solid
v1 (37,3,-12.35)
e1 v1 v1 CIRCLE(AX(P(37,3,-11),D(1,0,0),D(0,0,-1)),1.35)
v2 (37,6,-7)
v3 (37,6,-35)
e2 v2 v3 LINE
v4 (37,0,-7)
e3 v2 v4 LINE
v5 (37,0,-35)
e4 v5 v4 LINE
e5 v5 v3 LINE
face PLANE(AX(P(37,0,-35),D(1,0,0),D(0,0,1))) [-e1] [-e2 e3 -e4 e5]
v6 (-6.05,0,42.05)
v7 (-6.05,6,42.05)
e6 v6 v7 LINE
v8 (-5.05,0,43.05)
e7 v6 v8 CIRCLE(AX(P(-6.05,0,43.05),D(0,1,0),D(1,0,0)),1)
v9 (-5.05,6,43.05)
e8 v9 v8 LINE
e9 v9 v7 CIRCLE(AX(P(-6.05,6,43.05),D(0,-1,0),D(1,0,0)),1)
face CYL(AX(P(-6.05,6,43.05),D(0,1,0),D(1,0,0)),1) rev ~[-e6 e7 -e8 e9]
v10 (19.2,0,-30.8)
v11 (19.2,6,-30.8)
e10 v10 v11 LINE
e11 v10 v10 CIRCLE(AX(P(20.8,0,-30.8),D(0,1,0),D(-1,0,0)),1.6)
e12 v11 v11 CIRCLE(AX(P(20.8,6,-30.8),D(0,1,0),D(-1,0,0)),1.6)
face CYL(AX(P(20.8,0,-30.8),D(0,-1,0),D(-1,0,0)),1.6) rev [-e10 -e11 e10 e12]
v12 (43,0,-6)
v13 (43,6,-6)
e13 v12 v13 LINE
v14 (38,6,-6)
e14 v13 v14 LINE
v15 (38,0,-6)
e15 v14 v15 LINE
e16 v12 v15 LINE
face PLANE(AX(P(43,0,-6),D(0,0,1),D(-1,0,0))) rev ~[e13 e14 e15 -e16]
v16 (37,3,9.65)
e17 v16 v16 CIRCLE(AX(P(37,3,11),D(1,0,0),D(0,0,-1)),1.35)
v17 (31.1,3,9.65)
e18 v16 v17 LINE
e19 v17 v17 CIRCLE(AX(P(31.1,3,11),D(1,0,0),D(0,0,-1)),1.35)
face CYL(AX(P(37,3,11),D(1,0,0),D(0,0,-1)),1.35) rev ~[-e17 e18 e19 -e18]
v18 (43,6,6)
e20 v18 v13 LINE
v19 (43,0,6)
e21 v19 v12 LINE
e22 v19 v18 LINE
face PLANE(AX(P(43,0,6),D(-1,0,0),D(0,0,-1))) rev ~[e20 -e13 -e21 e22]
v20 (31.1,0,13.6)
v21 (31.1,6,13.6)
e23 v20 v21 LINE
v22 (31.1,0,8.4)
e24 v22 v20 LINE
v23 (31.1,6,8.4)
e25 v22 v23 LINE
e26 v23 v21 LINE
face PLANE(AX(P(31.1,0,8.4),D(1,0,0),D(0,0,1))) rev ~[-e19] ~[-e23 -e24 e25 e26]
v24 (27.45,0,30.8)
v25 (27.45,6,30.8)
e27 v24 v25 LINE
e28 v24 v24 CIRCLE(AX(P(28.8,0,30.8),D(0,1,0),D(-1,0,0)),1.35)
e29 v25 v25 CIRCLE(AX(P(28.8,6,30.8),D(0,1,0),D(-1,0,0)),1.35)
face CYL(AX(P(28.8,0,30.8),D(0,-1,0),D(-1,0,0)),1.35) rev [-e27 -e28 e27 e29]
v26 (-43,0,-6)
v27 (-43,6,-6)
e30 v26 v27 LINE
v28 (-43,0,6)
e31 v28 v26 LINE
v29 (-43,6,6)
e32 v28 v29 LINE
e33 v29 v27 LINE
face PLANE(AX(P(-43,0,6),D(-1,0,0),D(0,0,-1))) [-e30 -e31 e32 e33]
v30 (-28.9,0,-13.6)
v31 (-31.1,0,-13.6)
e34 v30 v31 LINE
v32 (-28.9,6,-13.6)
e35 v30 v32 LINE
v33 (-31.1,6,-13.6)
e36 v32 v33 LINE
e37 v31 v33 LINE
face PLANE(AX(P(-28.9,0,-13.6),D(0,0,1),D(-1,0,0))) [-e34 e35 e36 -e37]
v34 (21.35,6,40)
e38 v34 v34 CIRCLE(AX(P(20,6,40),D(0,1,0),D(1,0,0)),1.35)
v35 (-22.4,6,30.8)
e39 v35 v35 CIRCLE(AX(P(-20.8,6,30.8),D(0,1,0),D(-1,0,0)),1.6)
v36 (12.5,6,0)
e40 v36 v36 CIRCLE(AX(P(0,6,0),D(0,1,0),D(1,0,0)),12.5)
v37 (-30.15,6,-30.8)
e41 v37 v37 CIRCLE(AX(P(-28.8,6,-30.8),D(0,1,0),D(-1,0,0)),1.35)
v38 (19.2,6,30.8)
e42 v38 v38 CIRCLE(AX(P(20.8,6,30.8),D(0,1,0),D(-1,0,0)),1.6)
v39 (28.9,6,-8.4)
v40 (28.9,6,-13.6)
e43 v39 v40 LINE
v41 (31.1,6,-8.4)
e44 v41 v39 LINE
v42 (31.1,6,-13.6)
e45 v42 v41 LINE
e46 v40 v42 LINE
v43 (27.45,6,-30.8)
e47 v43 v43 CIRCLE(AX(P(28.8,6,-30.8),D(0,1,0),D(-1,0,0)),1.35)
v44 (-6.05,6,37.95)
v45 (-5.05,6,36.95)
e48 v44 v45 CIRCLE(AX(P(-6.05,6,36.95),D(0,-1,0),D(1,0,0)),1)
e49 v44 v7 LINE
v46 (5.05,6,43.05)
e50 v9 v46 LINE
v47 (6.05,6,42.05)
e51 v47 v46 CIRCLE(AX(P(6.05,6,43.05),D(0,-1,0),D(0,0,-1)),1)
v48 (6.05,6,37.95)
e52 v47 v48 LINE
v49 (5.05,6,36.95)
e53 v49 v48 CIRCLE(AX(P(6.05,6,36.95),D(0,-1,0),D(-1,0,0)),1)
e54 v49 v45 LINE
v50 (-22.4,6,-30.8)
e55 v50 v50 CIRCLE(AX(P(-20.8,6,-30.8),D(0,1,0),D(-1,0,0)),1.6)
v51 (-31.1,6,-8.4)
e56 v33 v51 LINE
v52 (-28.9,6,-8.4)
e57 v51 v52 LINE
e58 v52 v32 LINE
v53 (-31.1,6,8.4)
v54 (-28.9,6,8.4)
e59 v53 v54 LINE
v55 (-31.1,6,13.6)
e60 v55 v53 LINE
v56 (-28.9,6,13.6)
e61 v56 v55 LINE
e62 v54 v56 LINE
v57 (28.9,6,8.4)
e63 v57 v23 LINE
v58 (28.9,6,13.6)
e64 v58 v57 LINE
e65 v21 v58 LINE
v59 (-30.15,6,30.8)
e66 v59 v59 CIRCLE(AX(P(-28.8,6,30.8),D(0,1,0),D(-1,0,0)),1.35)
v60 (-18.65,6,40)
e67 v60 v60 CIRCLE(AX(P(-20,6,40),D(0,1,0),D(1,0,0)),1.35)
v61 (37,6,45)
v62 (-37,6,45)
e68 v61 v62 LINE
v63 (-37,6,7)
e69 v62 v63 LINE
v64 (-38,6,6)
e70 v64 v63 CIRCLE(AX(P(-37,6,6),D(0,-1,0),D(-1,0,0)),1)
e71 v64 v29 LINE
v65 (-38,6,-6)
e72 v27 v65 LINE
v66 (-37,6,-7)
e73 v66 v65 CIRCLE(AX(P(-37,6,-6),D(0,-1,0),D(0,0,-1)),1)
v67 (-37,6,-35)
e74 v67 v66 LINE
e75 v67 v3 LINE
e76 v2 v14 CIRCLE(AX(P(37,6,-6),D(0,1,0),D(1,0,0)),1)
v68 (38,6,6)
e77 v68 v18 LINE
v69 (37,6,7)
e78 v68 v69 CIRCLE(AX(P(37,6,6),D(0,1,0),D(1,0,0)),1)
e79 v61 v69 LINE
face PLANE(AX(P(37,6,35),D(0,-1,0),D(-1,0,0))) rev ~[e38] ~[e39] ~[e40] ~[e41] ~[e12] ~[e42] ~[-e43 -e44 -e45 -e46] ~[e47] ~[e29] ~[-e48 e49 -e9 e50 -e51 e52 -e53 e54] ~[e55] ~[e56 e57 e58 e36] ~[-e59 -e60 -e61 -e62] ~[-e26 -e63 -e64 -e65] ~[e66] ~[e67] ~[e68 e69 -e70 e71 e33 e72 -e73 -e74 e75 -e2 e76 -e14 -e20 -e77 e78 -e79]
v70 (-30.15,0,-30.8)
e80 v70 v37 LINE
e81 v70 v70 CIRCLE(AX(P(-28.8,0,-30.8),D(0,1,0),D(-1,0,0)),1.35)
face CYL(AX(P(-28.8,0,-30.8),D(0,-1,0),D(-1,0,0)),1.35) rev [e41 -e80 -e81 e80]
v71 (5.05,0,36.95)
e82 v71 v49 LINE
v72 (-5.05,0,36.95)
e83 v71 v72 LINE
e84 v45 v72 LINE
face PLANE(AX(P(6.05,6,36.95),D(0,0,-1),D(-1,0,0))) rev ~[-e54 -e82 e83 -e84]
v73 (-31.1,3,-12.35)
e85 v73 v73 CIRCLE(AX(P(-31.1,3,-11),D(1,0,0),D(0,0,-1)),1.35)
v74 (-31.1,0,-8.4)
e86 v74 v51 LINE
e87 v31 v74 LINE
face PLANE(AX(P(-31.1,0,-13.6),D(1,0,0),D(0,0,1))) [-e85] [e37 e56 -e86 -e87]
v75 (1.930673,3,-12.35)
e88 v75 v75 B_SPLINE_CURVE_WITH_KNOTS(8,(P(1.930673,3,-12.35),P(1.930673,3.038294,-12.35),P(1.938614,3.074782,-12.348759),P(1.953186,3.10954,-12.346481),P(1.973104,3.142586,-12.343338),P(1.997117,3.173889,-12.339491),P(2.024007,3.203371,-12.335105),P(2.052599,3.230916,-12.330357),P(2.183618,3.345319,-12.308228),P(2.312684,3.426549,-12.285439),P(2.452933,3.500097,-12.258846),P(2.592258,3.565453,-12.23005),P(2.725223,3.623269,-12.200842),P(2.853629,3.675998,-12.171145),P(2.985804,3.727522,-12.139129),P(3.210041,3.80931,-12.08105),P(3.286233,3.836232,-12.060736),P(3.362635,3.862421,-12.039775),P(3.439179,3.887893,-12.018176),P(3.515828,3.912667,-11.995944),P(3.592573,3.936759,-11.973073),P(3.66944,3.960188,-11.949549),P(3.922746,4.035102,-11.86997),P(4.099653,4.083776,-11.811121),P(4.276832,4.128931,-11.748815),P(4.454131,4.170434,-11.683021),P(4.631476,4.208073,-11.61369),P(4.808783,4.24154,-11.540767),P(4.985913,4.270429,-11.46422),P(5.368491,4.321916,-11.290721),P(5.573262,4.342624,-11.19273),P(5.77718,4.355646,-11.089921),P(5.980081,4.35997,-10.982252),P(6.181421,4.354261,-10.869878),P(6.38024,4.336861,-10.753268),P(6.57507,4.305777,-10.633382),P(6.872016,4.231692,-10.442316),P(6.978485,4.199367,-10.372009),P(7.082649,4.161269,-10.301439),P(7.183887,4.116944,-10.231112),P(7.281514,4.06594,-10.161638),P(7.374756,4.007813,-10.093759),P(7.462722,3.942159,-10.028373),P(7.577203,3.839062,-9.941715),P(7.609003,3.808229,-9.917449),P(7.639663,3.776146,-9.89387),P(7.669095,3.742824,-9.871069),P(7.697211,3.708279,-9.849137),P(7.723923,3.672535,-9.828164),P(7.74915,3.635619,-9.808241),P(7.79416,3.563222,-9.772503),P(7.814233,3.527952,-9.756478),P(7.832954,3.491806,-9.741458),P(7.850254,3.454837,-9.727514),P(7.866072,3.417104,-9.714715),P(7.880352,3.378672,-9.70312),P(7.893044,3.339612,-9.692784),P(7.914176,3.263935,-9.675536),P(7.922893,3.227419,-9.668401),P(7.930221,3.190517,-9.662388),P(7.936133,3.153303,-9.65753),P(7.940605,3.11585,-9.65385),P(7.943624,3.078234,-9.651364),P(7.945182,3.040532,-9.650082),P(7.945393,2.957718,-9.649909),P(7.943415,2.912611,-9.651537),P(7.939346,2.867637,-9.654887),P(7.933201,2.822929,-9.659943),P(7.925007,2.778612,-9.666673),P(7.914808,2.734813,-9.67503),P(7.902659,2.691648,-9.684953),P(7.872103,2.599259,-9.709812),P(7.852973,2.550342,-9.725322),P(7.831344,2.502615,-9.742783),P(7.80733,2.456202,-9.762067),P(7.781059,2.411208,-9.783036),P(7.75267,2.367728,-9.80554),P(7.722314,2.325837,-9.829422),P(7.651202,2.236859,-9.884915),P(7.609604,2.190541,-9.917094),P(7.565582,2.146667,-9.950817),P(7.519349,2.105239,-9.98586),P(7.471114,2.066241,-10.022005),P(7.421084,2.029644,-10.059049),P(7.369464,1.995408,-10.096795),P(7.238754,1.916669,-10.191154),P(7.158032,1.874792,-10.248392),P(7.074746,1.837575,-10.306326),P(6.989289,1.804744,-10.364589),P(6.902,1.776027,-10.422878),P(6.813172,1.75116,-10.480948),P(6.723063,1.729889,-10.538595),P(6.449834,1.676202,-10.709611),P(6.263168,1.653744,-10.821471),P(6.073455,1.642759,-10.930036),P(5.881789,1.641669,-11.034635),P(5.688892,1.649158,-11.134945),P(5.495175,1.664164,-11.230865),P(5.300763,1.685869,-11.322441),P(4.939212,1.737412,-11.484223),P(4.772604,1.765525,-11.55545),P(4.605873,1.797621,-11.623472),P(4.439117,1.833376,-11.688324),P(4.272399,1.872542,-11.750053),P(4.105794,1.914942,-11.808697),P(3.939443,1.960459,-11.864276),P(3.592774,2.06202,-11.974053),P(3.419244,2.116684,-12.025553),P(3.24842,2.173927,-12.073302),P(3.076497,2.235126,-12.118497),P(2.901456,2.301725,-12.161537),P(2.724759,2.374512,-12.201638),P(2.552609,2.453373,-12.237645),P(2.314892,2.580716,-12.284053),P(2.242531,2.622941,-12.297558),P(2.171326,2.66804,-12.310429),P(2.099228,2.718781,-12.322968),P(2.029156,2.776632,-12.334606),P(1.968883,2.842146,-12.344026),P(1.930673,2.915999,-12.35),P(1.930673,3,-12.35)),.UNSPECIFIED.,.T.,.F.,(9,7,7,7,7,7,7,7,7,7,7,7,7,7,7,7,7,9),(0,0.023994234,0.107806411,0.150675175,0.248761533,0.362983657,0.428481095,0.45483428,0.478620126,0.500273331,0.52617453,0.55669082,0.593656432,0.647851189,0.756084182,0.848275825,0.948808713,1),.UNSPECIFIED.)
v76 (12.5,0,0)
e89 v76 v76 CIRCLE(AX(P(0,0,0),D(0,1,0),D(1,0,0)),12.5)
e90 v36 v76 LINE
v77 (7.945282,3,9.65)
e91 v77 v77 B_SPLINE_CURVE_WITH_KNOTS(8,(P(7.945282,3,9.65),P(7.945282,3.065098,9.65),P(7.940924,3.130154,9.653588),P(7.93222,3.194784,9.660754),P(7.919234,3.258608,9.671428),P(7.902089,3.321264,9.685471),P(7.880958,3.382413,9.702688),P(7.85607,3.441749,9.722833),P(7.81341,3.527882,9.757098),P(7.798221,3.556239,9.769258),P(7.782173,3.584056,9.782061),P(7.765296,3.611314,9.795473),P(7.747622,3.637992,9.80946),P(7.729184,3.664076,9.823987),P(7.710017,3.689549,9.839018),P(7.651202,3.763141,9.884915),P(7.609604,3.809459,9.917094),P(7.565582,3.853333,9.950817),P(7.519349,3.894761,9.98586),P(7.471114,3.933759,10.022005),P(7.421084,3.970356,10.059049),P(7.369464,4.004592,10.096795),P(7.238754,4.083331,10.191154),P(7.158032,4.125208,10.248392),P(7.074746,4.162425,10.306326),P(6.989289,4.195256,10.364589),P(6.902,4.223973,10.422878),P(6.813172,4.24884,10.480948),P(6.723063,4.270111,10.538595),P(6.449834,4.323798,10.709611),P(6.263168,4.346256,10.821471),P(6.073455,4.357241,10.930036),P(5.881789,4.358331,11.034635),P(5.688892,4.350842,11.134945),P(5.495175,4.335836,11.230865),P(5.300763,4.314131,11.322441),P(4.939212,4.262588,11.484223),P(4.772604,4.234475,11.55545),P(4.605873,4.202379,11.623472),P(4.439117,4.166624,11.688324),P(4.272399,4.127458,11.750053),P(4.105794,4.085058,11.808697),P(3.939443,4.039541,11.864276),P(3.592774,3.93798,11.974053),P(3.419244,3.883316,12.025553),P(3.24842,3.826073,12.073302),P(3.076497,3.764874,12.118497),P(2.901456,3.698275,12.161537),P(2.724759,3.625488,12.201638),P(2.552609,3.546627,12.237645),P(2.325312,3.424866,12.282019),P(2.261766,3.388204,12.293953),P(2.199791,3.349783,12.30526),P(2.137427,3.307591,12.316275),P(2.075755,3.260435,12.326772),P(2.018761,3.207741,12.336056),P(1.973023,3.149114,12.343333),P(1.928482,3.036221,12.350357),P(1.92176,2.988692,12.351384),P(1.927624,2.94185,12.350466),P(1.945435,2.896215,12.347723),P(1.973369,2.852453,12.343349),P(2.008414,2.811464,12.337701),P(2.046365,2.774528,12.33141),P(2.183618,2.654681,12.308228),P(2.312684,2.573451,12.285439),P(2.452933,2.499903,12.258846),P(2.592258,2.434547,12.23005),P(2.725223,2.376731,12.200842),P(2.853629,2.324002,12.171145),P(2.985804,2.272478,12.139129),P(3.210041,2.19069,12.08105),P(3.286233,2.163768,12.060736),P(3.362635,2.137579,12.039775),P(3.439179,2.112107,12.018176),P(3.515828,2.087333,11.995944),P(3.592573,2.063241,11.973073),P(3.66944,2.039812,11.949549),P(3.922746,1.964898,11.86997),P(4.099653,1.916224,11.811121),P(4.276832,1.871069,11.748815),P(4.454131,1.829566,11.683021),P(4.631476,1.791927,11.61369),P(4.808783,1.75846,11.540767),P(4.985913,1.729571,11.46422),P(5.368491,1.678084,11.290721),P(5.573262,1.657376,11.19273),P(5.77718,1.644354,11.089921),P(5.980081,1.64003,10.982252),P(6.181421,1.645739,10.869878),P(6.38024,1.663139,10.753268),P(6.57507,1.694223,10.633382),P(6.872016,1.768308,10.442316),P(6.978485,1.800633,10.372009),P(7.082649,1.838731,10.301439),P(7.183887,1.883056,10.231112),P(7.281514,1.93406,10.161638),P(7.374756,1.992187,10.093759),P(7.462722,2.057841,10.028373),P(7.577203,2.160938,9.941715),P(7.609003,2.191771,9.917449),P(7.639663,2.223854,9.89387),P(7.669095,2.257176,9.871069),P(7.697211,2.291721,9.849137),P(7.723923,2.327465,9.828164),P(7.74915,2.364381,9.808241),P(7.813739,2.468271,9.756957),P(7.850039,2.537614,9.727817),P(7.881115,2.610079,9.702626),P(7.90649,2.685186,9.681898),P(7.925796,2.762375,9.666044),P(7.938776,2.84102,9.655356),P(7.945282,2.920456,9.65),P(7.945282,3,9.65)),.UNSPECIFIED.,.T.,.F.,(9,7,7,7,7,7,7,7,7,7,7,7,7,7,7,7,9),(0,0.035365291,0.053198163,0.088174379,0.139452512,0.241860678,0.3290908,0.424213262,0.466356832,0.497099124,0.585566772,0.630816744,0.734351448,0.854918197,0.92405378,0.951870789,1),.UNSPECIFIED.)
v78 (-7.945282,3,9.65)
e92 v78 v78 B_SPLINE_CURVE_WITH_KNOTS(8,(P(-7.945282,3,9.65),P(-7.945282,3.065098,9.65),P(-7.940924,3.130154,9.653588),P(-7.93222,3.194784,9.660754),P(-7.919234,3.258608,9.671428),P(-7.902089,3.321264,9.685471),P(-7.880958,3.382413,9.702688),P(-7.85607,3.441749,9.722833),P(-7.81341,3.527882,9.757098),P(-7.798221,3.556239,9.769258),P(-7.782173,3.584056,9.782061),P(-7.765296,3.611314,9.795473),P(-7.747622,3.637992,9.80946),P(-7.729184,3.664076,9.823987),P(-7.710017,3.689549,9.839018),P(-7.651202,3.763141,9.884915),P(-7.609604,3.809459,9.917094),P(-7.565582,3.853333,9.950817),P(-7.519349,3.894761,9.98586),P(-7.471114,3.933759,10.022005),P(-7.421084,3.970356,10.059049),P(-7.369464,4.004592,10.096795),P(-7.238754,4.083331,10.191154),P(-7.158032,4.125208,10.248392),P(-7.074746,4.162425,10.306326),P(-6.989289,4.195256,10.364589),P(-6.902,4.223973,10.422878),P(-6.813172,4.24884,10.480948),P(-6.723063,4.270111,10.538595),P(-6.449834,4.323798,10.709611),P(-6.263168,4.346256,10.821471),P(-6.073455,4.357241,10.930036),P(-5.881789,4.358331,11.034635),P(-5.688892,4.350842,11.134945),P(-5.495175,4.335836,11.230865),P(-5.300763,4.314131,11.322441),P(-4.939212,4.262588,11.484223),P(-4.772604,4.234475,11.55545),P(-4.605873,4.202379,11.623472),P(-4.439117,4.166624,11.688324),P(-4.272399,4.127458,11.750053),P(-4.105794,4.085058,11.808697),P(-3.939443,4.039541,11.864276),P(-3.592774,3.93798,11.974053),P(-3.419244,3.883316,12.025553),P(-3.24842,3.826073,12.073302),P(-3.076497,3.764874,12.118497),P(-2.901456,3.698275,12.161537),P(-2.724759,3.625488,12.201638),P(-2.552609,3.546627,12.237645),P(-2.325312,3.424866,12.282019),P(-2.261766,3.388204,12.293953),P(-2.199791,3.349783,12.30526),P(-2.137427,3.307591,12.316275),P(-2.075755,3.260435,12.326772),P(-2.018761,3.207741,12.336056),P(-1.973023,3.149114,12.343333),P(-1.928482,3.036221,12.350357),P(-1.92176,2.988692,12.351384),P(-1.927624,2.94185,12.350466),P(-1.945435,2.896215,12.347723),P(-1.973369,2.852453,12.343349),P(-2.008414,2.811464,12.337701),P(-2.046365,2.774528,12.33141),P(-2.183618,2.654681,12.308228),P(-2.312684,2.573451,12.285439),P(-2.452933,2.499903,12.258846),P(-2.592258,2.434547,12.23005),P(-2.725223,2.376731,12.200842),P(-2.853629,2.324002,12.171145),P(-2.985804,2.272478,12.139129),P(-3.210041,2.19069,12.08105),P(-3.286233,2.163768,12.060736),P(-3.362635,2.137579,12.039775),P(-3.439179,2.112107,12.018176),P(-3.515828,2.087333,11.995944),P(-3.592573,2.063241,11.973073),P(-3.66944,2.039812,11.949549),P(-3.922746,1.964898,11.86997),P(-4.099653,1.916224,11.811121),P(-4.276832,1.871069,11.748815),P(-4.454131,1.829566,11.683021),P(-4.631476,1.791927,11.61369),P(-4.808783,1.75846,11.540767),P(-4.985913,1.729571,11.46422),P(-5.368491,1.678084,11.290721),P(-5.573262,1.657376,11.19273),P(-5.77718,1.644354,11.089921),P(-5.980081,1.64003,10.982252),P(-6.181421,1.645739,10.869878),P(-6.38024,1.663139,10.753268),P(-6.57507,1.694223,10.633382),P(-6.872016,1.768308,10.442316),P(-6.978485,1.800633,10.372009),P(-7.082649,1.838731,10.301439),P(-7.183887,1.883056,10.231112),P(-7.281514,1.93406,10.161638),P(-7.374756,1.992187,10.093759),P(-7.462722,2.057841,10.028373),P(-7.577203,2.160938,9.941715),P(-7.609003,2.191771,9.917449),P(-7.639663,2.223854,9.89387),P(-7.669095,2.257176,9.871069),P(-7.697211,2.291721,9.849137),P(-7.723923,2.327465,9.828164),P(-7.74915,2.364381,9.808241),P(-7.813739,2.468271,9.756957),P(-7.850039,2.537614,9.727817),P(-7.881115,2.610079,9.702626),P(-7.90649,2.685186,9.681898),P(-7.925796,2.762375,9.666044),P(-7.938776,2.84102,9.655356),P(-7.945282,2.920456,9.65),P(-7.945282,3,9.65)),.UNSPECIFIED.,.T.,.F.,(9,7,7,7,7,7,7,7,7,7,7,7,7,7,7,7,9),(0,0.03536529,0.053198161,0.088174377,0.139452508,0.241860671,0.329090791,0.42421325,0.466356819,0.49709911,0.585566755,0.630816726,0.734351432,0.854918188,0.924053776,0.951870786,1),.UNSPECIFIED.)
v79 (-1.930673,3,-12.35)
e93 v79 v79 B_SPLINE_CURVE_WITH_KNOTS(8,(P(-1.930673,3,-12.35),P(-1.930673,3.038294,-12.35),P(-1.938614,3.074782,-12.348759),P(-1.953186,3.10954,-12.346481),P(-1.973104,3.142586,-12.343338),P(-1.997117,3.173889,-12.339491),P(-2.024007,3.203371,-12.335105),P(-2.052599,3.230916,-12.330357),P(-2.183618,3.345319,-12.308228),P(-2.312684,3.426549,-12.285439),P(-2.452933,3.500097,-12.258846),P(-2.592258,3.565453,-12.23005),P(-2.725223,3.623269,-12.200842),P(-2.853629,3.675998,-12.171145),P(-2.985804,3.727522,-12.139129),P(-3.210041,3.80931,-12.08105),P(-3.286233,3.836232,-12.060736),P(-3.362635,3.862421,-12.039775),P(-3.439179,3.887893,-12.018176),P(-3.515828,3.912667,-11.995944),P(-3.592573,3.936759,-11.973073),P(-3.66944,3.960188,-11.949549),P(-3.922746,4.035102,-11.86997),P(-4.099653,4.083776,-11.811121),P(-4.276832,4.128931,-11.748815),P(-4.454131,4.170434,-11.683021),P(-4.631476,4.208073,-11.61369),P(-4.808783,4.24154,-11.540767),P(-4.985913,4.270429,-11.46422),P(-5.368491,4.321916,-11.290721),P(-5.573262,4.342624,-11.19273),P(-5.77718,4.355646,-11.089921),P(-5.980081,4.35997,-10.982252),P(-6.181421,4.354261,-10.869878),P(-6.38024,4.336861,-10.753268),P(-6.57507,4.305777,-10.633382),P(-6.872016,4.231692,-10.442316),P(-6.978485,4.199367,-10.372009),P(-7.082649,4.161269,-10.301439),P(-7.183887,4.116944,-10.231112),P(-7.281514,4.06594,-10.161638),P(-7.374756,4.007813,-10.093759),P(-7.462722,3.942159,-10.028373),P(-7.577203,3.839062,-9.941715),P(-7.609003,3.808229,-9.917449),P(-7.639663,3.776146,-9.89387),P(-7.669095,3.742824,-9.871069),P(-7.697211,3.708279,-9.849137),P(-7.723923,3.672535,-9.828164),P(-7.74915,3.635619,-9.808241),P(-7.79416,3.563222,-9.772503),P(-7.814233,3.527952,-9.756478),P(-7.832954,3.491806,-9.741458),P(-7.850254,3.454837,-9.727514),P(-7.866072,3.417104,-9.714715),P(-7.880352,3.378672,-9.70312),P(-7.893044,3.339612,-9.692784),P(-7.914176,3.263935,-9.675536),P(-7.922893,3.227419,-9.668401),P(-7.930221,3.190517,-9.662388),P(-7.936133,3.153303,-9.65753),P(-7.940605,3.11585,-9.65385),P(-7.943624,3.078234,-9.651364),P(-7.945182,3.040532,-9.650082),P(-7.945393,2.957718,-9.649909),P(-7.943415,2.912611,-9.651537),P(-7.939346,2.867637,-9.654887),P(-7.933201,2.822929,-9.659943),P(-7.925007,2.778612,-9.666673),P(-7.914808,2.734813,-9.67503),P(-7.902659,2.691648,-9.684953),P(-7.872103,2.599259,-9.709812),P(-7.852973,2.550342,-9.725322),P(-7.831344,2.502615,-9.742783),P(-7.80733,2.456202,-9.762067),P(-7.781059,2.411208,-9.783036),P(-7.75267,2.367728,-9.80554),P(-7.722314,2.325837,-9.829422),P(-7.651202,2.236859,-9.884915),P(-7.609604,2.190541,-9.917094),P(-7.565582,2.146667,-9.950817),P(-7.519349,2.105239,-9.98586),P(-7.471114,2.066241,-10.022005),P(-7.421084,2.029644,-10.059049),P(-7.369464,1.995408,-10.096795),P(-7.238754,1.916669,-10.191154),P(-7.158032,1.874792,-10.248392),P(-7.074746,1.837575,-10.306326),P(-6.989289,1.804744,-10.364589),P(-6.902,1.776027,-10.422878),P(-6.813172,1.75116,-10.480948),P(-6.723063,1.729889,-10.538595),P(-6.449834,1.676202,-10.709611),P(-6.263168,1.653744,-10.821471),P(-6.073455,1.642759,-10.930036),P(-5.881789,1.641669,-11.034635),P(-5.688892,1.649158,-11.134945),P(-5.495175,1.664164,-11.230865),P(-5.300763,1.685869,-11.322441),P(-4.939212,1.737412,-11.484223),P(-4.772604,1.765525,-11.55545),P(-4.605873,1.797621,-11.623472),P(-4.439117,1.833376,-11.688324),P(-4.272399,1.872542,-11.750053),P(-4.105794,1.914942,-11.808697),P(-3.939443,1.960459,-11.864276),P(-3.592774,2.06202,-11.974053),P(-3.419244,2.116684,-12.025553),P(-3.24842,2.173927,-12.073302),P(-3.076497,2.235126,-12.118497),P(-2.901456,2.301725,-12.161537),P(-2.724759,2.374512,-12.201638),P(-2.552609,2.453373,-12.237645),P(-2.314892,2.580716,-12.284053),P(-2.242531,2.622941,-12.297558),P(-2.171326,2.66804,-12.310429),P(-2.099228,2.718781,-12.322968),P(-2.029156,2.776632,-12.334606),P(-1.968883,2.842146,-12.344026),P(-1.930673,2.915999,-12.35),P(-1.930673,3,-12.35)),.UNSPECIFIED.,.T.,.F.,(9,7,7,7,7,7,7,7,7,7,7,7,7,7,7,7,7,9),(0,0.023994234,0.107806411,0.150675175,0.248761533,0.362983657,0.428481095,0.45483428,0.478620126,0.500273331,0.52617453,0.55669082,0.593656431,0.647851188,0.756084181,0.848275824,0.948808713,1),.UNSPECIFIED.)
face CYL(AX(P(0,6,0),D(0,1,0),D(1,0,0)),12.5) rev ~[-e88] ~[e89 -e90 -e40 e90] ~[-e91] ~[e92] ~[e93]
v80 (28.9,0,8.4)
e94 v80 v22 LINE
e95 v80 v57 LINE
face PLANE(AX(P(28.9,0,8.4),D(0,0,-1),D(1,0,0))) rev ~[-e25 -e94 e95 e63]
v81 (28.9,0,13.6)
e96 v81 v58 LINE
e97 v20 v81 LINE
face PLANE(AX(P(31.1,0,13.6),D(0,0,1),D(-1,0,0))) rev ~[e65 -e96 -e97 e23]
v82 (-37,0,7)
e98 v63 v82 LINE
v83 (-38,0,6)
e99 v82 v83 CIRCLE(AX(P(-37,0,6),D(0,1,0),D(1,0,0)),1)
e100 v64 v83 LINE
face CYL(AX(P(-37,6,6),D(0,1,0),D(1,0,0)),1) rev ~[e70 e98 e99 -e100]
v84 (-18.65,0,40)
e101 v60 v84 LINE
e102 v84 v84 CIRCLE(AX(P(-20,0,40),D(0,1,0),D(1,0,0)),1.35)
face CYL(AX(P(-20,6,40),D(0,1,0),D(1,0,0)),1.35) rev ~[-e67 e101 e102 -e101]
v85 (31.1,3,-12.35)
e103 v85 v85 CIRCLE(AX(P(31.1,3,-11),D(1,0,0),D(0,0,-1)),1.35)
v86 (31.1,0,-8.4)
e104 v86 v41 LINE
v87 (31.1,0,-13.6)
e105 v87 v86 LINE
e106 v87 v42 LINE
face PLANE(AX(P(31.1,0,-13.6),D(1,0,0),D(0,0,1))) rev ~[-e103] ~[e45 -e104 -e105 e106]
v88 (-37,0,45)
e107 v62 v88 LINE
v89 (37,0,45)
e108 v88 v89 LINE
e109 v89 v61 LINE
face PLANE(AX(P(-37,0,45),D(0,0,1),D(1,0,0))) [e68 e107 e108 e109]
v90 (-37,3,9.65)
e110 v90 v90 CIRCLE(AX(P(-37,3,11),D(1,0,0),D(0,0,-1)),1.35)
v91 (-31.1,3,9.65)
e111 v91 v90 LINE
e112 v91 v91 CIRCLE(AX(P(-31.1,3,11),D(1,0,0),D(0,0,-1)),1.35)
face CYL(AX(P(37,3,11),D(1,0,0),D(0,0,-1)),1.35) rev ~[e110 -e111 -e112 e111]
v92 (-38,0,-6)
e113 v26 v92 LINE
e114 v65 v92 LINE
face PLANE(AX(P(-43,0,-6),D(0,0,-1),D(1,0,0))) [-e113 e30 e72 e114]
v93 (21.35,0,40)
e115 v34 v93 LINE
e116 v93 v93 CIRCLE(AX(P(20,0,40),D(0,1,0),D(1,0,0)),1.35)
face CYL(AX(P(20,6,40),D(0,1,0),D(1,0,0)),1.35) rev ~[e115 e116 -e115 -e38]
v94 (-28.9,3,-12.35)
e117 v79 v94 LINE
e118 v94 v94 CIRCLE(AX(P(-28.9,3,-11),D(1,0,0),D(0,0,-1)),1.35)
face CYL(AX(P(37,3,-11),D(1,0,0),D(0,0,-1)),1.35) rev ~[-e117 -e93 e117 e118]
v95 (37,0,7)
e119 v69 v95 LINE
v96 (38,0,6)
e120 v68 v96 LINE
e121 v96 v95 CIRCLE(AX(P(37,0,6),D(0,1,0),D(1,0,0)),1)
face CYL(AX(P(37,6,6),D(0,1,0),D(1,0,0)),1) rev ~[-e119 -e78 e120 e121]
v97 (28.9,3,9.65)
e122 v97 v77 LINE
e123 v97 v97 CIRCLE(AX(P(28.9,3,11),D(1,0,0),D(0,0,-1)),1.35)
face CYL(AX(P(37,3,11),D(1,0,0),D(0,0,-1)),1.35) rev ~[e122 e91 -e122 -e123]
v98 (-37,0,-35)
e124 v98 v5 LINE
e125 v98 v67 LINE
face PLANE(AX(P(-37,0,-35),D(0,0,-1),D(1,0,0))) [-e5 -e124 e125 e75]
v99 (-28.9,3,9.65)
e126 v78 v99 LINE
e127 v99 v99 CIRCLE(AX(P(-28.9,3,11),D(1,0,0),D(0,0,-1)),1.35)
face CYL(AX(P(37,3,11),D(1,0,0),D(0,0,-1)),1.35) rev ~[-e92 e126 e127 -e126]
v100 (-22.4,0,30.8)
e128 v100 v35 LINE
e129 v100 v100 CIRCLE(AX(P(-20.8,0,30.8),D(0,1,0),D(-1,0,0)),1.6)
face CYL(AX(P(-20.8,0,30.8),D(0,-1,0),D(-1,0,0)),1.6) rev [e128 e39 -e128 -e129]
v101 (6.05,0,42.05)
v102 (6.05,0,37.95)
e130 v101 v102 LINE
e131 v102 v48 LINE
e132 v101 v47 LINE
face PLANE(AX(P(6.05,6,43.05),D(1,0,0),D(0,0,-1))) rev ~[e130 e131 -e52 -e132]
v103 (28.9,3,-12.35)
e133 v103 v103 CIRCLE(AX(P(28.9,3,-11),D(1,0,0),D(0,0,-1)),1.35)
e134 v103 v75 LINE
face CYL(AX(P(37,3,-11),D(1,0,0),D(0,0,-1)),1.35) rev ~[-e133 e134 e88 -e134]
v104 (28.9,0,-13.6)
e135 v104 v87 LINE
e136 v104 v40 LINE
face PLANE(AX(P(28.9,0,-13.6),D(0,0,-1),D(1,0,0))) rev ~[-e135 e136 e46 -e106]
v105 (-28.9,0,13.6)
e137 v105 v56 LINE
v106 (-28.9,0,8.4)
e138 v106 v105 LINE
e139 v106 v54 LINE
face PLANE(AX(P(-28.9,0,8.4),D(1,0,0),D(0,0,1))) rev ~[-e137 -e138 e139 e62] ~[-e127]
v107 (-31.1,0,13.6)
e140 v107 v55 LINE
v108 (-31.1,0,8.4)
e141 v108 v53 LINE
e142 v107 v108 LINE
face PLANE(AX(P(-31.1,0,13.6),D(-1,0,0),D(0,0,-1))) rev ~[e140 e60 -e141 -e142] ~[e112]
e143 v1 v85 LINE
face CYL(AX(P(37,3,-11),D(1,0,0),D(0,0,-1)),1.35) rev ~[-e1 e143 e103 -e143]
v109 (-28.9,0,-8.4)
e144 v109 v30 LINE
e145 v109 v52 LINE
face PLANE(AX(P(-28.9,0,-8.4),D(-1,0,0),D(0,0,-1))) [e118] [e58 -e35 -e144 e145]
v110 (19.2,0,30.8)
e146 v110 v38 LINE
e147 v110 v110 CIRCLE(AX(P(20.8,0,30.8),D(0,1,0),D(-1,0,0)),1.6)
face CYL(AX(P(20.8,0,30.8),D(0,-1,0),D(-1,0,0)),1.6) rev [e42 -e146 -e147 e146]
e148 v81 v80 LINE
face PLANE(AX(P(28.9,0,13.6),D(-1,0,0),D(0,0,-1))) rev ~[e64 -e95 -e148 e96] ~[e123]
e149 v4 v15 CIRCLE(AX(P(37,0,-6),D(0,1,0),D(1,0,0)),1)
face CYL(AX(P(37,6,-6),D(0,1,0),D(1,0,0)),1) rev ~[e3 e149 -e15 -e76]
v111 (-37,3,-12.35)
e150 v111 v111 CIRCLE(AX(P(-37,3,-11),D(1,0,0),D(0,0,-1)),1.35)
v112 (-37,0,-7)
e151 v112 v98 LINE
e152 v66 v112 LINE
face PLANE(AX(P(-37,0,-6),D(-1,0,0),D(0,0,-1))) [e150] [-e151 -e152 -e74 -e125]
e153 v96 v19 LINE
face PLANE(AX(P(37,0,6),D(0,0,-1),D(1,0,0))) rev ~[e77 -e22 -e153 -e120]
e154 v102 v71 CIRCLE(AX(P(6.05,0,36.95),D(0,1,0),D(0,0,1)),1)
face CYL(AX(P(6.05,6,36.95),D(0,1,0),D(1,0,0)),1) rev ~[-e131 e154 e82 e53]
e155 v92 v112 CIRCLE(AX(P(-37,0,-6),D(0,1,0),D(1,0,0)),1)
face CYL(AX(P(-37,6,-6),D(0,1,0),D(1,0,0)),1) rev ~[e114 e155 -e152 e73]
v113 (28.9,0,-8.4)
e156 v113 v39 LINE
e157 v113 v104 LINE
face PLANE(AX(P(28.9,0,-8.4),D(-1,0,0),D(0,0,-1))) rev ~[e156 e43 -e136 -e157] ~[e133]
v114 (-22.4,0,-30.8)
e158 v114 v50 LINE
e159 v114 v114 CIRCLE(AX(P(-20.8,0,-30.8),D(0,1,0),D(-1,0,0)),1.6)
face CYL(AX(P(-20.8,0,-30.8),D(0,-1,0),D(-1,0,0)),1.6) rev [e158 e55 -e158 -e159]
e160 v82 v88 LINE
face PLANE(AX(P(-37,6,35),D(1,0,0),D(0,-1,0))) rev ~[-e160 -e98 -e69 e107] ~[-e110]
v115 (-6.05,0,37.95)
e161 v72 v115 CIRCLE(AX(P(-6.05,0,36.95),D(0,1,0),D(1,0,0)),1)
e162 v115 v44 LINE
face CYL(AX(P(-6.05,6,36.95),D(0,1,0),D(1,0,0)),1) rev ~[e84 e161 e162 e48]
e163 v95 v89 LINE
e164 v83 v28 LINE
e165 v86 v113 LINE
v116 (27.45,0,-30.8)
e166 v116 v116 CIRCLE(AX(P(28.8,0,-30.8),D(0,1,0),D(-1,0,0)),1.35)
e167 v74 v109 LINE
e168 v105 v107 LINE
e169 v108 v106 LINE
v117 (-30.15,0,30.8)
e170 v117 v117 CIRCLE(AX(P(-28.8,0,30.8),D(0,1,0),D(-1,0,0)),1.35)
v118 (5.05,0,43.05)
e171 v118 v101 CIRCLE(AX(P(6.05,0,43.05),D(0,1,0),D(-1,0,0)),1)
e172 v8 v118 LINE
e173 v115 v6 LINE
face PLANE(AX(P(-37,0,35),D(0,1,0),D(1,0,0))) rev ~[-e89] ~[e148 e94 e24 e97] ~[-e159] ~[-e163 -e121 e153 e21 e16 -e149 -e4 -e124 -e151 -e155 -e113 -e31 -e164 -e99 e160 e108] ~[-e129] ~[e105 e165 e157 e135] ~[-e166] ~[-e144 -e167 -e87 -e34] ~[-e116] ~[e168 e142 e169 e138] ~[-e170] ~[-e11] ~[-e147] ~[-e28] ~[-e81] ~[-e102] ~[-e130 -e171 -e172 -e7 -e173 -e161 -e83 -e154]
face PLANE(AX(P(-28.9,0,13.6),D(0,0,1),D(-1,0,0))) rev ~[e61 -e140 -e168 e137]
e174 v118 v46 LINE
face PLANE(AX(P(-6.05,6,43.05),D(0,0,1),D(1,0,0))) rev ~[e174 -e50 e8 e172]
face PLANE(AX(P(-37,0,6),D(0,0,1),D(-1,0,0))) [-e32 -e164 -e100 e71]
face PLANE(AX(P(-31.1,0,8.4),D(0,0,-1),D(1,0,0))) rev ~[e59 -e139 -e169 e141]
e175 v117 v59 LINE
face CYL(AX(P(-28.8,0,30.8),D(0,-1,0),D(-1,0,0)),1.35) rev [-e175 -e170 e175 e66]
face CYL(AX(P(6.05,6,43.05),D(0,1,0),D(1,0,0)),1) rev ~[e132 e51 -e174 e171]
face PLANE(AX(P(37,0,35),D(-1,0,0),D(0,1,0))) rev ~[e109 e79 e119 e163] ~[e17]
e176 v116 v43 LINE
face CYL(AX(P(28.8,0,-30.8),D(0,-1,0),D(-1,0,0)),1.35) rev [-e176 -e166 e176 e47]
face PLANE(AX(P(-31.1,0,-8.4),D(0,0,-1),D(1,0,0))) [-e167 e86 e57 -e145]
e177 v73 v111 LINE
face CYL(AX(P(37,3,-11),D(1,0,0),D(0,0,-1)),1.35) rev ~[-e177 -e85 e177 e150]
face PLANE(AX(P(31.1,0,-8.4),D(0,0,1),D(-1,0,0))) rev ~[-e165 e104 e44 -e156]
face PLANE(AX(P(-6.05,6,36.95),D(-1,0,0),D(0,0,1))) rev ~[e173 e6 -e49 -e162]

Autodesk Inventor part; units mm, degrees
ref_plane "우측면도" through (0, 0, 0) normal (1, 0, 0) x (0, 1, 0)
ref_plane "평면도" through (0, 0, 0) normal (0, 1, 0) x (-1, 0, 0)
ref_plane "정면도" through (0, 0, 0) normal (0, 0, 1) x (1, 0, 0)
sketch "스케치1" plane through (0, 0, 0) normal (0, 1, 0) x (-1, 0, 0)
  line L0 (-37, 35) -> (37, 35)
  line L1 (37, 35) -> (37, -35)
  line L2 (37, -35) -> (-37, -35)
  line L3 (-37, -35) -> (-37, 35)
  line L4 (-37, 35) -> (37, -35) construction
  line L5 (37, 35) -> (-37, -35) construction
  line L6 (37, -14) -> (37, -2)
  line L7 (-37, -14) -> (-37, -2)
  line L8 (28.9, 13.6) -> (31.1, 13.6)
  line L9 (31.1, 13.6) -> (31.1, 8.4)
  line L10 (31.1, 8.4) -> (28.9, 8.4)
  line L11 (28.9, 8.4) -> (28.9, 13.6)
  line L12 (28.9, 13.6) -> (31.1, 8.4) construction
  line L13 (31.1, 13.6) -> (28.9, 8.4) construction
  line L14 (-31.1, 13.6) -> (-28.9, 13.6)
  line L15 (-28.9, 13.6) -> (-28.9, 8.4)
  line L16 (-28.9, 8.4) -> (-31.1, 8.4)
  line L17 (-31.1, 8.4) -> (-31.1, 13.6)
  line L18 (-31.1, 13.6) -> (-28.9, 8.4) construction
  line L19 (-28.9, 13.6) -> (-31.1, 8.4) construction
  line L20 (-31.1, -8.4) -> (-28.9, -8.4)
  line L21 (-28.9, -8.4) -> (-28.9, -13.6)
  line L22 (-28.9, -13.6) -> (-31.1, -13.6)
  line L23 (-31.1, -13.6) -> (-31.1, -8.4)
  line L24 (-31.1, -8.4) -> (-28.9, -13.6) construction
  line L25 (-28.9, -8.4) -> (-31.1, -13.6) construction
  line L26 (31.1, -8.4) -> (28.9, -8.4)
  line L27 (28.9, -8.4) -> (28.9, -13.6)
  line L28 (28.9, -13.6) -> (31.1, -13.6)
  line L29 (31.1, -13.6) -> (31.1, -8.4)
  line L30 (31.1, -8.4) -> (28.9, -13.6) construction
  line L31 (28.9, -8.4) -> (31.1, -13.6) construction
  line L32 (37, 6) -> (43, 6)
  line L33 (43, 6) -> (43, -6)
  line L34 (43, -6) -> (37, -6)
  line L35 (37, -6) -> (37, 6)
  line L36 (-37, 6) -> (-43, 6)
  line L37 (-43, 6) -> (-43, -6)
  line L38 (-43, -6) -> (-37, -6)
  line L39 (-37, -6) -> (-37, 6)
  circle A0 centre (20.8, 30.8) radius 1.6
  circle A1 centre (20.8, -30.8) radius 1.6
  circle A2 centre (-20.8, 30.8) radius 1.6
  circle A3 centre (-20.8, -30.8) radius 1.6
  circle A4 centre (28.8, 30.8) radius 1.35
  circle A5 centre (28.8, -30.8) radius 1.35
  circle A6 centre (-28.8, 30.8) radius 1.35
  circle A7 centre (-28.8, -30.8) radius 1.35
  point P0 (0, 0)
  point P1 (30, 11)
  point P2 (-30, 11)
  point P3 (-30, -11)
  point P4 (30, -11)
  dimension "d0" = 74
  dimension "d1" = 70
  dimension "d6" = 2.2
  dimension "d7" = 5.2
  dimension "d8" = 2.2
  dimension "d9" = 5.2
  dimension "d10" = 2.2
  dimension "d11" = 5.2
  dimension "d12" = 2.2
  dimension "d13" = 5.2
  dimension "d14" = 6
  dimension "d15" = 12
  dimension "d16" = 6
  dimension "d17" = 12
  dimension "d18" = 3.2
  dimension "d19" = 4.2
  dimension "d20" = 3.2
  dimension "d21" = 3.2
  dimension "d22" = 3.2
  dimension "d23" = 2.7
  dimension "d24" = 2.7
  dimension "d25" = 2.7
  dimension "d26" = 2.7
extrude "돌출1" add sketch "스케치1" along normal blind 6
sketch "스케치2" plane through (37, 0, 35) normal (1, 0, 0) x (0, 0, -1)
  circle A0 centre (46, 3) radius 1.35
  circle A1 centre (24, 3) radius 1.35
  point P0 (35, 0)
  dimension "d29" = 2.7
  dimension "d30" = 2.7
extrude "돌출2" cut sketch "스케치2" against normal blind 100
sketch "스케치3" plane through (-37, 0, 35) normal (0, 0, 1) x (1, 0, 0)
  line L0 (0, 0) -> (74, 0)
  line L1 (74, 0) -> (74, 6)
  line L2 (74, 6) -> (0, 6)
  line L3 (0, 6) -> (0, 0)
  point P0 (37, 0)
  dimension "d33" = 74
  dimension "d34" = 6
extrude "돌출3" add sketch "스케치3" along normal blind 10
sketch "스케치4" plane through (0, 6, 0) normal (0, 1, 0) x (1, 0, 0)
  circle A0 centre (20, -40) radius 1.35
  circle A1 centre (-20, -40) radius 1.35
  line L0 (-6.05, -43.05) -> (6.05, -43.05)
  line L1 (6.05, -43.05) -> (6.05, -36.95)
  line L2 (6.05, -36.95) -> (-6.05, -36.95)
  line L3 (-6.05, -36.95) -> (-6.05, -43.05)
  line L4 (-6.05, -43.05) -> (6.05, -36.95) construction
  line L5 (6.05, -43.05) -> (-6.05, -36.95) construction
  point P0 (0, 0)
  point P1 (0, -40)
  dimension "d37" = 2.7
  dimension "d38" = 2.7
  dimension "d39" = 12.1
  dimension "d40" = 6.1
extrude "돌출4" cut sketch "스케치4" against normal blind 10
sketch "스케치5" plane through (0, 6, 0) normal (0, 1, 0) x (1, 0, 0)
  circle A0 centre (0, 0) radius 12.5
  dimension "d43" = 25
extrude "돌출5" cut sketch "스케치5" against normal blind 10
sketch "스케치6" plane through (0, 6, 0) normal (0, 1, 0) x (1, 0, 0)
  circle A0 centre (0, 0) radius 12.5 projected
  circle A1 centre (20, -40) radius 1.35 projected
  circle A2 centre (-20, -40) radius 1.35 projected
  line L0 (-6.05, -36.95) -> (6.05, -36.95) projected
  line L1 (6.05, -36.95) -> (6.05, -43.05) projected
  line L2 (6.05, -43.05) -> (-6.05, -43.05) projected
  line L3 (-6.05, -43.05) -> (-6.05, -36.95) projected
  line L4 (37, -6) -> (37, -45) projected
  line L5 (37, -6) -> (43, -6) projected
  line L6 (43, -6) -> (43, 6) projected
  line L7 (43, 6) -> (37, 6) projected
  line L8 (37, 6) -> (37, 35) projected
  line L9 (37, 35) -> (-37, 35) projected
  line L10 (-37, 35) -> (-37, 6) projected
  line L11 (-37, 6) -> (-43, 6) projected
  line L12 (-43, 6) -> (-43, -6) projected
  line L13 (-43, -6) -> (-37, -6) projected
  line L14 (-37, -6) -> (-37, -45) projected
  line L15 (37, -45) -> (-37, -45) projected
  circle A3 centre (28.8, 30.8) radius 1.35 projected
  circle A4 centre (-28.8, 30.8) radius 1.35 projected
  circle A5 centre (-28.8, -30.8) radius 1.35 projected
  circle A6 centre (20.8, 30.8) radius 1.6 projected
  circle A7 centre (20.8, -30.8) radius 1.6 projected
  circle A8 centre (-20.8, 30.8) radius 1.6 projected
  circle A9 centre (-20.8, -30.8) radius 1.6 projected
  circle A10 centre (28.8, -30.8) radius 1.35 projected
  line L16 (-31.1, 8.4) -> (-31.1, 13.6) projected
  line L17 (-31.1, 13.6) -> (-28.9, 13.6) projected
  line L18 (-28.9, 13.6) -> (-28.9, 8.4) projected
  line L19 (-28.9, 8.4) -> (-31.1, 8.4) projected
  line L20 (31.1, 8.4) -> (28.9, 8.4) projected
  line L21 (28.9, 8.4) -> (28.9, 13.6) projected
  line L22 (28.9, 13.6) -> (31.1, 13.6) projected
  line L23 (31.1, 13.6) -> (31.1, 8.4) projected
  line L24 (31.1, -13.6) -> (28.9, -13.6) projected
  line L25 (28.9, -13.6) -> (28.9, -8.4) projected
  line L26 (28.9, -8.4) -> (31.1, -8.4) projected
  line L27 (31.1, -8.4) -> (31.1, -13.6) projected
  line L28 (-28.9, -13.6) -> (-31.1, -13.6) projected
  line L29 (-31.1, -13.6) -> (-31.1, -8.4) projected
  line L30 (-31.1, -8.4) -> (-28.9, -8.4) projected
  line L31 (-28.9, -8.4) -> (-28.9, -13.6) projected
  circle A11 centre (-6.05, -36.95) radius 1
  circle A12 centre (-6.05, -43.05) radius 1
  circle A13 centre (6.05, -36.95) radius 1
  circle A14 centre (6.05, -43.05) radius 1
  circle A15 centre (-37, -6) radius 1
  circle A16 centre (-37, 6) radius 1
  circle A17 centre (37, -6) radius 1
  circle A18 centre (37, 6) radius 1
  point P0 (38, -6)
  point P1 (37, -7)
  point P2 (37, 7)
  point P3 (38, 6)
  point P4 (-37, 7)
  point P5 (-38, 6)
  point P6 (-37, -7)
  point P7 (-38, -6)
  dimension "d46" = 2
  dimension "d47" = 2
  dimension "d48" = 2
  dimension "d49" = 2
  dimension "d50" = 2
  dimension "d51" = 2
  dimension "d52" = 2
  dimension "d53" = 2
extrude "돌출6" cut sketch "스케치6" against normal through all contours L3 A11 L0 | L0 A11 L3 | A13 L1 L0 | L0 L1 A13 | A12 L2 L3 | L3 L2 A12 | A14 L2 L1 | L1 L2 A14 | L4 A17 L5 | L14 L13 A15 | A18 L8 L7 | L11 L10 A16 picked at (36.9727, -5.339) picked at (-37.657, -5.9202) picked at (36.9727, 5.339) picked at (-36.343, 5.9202)
properties part number "under the head" material "PMMA 플라스틱"
